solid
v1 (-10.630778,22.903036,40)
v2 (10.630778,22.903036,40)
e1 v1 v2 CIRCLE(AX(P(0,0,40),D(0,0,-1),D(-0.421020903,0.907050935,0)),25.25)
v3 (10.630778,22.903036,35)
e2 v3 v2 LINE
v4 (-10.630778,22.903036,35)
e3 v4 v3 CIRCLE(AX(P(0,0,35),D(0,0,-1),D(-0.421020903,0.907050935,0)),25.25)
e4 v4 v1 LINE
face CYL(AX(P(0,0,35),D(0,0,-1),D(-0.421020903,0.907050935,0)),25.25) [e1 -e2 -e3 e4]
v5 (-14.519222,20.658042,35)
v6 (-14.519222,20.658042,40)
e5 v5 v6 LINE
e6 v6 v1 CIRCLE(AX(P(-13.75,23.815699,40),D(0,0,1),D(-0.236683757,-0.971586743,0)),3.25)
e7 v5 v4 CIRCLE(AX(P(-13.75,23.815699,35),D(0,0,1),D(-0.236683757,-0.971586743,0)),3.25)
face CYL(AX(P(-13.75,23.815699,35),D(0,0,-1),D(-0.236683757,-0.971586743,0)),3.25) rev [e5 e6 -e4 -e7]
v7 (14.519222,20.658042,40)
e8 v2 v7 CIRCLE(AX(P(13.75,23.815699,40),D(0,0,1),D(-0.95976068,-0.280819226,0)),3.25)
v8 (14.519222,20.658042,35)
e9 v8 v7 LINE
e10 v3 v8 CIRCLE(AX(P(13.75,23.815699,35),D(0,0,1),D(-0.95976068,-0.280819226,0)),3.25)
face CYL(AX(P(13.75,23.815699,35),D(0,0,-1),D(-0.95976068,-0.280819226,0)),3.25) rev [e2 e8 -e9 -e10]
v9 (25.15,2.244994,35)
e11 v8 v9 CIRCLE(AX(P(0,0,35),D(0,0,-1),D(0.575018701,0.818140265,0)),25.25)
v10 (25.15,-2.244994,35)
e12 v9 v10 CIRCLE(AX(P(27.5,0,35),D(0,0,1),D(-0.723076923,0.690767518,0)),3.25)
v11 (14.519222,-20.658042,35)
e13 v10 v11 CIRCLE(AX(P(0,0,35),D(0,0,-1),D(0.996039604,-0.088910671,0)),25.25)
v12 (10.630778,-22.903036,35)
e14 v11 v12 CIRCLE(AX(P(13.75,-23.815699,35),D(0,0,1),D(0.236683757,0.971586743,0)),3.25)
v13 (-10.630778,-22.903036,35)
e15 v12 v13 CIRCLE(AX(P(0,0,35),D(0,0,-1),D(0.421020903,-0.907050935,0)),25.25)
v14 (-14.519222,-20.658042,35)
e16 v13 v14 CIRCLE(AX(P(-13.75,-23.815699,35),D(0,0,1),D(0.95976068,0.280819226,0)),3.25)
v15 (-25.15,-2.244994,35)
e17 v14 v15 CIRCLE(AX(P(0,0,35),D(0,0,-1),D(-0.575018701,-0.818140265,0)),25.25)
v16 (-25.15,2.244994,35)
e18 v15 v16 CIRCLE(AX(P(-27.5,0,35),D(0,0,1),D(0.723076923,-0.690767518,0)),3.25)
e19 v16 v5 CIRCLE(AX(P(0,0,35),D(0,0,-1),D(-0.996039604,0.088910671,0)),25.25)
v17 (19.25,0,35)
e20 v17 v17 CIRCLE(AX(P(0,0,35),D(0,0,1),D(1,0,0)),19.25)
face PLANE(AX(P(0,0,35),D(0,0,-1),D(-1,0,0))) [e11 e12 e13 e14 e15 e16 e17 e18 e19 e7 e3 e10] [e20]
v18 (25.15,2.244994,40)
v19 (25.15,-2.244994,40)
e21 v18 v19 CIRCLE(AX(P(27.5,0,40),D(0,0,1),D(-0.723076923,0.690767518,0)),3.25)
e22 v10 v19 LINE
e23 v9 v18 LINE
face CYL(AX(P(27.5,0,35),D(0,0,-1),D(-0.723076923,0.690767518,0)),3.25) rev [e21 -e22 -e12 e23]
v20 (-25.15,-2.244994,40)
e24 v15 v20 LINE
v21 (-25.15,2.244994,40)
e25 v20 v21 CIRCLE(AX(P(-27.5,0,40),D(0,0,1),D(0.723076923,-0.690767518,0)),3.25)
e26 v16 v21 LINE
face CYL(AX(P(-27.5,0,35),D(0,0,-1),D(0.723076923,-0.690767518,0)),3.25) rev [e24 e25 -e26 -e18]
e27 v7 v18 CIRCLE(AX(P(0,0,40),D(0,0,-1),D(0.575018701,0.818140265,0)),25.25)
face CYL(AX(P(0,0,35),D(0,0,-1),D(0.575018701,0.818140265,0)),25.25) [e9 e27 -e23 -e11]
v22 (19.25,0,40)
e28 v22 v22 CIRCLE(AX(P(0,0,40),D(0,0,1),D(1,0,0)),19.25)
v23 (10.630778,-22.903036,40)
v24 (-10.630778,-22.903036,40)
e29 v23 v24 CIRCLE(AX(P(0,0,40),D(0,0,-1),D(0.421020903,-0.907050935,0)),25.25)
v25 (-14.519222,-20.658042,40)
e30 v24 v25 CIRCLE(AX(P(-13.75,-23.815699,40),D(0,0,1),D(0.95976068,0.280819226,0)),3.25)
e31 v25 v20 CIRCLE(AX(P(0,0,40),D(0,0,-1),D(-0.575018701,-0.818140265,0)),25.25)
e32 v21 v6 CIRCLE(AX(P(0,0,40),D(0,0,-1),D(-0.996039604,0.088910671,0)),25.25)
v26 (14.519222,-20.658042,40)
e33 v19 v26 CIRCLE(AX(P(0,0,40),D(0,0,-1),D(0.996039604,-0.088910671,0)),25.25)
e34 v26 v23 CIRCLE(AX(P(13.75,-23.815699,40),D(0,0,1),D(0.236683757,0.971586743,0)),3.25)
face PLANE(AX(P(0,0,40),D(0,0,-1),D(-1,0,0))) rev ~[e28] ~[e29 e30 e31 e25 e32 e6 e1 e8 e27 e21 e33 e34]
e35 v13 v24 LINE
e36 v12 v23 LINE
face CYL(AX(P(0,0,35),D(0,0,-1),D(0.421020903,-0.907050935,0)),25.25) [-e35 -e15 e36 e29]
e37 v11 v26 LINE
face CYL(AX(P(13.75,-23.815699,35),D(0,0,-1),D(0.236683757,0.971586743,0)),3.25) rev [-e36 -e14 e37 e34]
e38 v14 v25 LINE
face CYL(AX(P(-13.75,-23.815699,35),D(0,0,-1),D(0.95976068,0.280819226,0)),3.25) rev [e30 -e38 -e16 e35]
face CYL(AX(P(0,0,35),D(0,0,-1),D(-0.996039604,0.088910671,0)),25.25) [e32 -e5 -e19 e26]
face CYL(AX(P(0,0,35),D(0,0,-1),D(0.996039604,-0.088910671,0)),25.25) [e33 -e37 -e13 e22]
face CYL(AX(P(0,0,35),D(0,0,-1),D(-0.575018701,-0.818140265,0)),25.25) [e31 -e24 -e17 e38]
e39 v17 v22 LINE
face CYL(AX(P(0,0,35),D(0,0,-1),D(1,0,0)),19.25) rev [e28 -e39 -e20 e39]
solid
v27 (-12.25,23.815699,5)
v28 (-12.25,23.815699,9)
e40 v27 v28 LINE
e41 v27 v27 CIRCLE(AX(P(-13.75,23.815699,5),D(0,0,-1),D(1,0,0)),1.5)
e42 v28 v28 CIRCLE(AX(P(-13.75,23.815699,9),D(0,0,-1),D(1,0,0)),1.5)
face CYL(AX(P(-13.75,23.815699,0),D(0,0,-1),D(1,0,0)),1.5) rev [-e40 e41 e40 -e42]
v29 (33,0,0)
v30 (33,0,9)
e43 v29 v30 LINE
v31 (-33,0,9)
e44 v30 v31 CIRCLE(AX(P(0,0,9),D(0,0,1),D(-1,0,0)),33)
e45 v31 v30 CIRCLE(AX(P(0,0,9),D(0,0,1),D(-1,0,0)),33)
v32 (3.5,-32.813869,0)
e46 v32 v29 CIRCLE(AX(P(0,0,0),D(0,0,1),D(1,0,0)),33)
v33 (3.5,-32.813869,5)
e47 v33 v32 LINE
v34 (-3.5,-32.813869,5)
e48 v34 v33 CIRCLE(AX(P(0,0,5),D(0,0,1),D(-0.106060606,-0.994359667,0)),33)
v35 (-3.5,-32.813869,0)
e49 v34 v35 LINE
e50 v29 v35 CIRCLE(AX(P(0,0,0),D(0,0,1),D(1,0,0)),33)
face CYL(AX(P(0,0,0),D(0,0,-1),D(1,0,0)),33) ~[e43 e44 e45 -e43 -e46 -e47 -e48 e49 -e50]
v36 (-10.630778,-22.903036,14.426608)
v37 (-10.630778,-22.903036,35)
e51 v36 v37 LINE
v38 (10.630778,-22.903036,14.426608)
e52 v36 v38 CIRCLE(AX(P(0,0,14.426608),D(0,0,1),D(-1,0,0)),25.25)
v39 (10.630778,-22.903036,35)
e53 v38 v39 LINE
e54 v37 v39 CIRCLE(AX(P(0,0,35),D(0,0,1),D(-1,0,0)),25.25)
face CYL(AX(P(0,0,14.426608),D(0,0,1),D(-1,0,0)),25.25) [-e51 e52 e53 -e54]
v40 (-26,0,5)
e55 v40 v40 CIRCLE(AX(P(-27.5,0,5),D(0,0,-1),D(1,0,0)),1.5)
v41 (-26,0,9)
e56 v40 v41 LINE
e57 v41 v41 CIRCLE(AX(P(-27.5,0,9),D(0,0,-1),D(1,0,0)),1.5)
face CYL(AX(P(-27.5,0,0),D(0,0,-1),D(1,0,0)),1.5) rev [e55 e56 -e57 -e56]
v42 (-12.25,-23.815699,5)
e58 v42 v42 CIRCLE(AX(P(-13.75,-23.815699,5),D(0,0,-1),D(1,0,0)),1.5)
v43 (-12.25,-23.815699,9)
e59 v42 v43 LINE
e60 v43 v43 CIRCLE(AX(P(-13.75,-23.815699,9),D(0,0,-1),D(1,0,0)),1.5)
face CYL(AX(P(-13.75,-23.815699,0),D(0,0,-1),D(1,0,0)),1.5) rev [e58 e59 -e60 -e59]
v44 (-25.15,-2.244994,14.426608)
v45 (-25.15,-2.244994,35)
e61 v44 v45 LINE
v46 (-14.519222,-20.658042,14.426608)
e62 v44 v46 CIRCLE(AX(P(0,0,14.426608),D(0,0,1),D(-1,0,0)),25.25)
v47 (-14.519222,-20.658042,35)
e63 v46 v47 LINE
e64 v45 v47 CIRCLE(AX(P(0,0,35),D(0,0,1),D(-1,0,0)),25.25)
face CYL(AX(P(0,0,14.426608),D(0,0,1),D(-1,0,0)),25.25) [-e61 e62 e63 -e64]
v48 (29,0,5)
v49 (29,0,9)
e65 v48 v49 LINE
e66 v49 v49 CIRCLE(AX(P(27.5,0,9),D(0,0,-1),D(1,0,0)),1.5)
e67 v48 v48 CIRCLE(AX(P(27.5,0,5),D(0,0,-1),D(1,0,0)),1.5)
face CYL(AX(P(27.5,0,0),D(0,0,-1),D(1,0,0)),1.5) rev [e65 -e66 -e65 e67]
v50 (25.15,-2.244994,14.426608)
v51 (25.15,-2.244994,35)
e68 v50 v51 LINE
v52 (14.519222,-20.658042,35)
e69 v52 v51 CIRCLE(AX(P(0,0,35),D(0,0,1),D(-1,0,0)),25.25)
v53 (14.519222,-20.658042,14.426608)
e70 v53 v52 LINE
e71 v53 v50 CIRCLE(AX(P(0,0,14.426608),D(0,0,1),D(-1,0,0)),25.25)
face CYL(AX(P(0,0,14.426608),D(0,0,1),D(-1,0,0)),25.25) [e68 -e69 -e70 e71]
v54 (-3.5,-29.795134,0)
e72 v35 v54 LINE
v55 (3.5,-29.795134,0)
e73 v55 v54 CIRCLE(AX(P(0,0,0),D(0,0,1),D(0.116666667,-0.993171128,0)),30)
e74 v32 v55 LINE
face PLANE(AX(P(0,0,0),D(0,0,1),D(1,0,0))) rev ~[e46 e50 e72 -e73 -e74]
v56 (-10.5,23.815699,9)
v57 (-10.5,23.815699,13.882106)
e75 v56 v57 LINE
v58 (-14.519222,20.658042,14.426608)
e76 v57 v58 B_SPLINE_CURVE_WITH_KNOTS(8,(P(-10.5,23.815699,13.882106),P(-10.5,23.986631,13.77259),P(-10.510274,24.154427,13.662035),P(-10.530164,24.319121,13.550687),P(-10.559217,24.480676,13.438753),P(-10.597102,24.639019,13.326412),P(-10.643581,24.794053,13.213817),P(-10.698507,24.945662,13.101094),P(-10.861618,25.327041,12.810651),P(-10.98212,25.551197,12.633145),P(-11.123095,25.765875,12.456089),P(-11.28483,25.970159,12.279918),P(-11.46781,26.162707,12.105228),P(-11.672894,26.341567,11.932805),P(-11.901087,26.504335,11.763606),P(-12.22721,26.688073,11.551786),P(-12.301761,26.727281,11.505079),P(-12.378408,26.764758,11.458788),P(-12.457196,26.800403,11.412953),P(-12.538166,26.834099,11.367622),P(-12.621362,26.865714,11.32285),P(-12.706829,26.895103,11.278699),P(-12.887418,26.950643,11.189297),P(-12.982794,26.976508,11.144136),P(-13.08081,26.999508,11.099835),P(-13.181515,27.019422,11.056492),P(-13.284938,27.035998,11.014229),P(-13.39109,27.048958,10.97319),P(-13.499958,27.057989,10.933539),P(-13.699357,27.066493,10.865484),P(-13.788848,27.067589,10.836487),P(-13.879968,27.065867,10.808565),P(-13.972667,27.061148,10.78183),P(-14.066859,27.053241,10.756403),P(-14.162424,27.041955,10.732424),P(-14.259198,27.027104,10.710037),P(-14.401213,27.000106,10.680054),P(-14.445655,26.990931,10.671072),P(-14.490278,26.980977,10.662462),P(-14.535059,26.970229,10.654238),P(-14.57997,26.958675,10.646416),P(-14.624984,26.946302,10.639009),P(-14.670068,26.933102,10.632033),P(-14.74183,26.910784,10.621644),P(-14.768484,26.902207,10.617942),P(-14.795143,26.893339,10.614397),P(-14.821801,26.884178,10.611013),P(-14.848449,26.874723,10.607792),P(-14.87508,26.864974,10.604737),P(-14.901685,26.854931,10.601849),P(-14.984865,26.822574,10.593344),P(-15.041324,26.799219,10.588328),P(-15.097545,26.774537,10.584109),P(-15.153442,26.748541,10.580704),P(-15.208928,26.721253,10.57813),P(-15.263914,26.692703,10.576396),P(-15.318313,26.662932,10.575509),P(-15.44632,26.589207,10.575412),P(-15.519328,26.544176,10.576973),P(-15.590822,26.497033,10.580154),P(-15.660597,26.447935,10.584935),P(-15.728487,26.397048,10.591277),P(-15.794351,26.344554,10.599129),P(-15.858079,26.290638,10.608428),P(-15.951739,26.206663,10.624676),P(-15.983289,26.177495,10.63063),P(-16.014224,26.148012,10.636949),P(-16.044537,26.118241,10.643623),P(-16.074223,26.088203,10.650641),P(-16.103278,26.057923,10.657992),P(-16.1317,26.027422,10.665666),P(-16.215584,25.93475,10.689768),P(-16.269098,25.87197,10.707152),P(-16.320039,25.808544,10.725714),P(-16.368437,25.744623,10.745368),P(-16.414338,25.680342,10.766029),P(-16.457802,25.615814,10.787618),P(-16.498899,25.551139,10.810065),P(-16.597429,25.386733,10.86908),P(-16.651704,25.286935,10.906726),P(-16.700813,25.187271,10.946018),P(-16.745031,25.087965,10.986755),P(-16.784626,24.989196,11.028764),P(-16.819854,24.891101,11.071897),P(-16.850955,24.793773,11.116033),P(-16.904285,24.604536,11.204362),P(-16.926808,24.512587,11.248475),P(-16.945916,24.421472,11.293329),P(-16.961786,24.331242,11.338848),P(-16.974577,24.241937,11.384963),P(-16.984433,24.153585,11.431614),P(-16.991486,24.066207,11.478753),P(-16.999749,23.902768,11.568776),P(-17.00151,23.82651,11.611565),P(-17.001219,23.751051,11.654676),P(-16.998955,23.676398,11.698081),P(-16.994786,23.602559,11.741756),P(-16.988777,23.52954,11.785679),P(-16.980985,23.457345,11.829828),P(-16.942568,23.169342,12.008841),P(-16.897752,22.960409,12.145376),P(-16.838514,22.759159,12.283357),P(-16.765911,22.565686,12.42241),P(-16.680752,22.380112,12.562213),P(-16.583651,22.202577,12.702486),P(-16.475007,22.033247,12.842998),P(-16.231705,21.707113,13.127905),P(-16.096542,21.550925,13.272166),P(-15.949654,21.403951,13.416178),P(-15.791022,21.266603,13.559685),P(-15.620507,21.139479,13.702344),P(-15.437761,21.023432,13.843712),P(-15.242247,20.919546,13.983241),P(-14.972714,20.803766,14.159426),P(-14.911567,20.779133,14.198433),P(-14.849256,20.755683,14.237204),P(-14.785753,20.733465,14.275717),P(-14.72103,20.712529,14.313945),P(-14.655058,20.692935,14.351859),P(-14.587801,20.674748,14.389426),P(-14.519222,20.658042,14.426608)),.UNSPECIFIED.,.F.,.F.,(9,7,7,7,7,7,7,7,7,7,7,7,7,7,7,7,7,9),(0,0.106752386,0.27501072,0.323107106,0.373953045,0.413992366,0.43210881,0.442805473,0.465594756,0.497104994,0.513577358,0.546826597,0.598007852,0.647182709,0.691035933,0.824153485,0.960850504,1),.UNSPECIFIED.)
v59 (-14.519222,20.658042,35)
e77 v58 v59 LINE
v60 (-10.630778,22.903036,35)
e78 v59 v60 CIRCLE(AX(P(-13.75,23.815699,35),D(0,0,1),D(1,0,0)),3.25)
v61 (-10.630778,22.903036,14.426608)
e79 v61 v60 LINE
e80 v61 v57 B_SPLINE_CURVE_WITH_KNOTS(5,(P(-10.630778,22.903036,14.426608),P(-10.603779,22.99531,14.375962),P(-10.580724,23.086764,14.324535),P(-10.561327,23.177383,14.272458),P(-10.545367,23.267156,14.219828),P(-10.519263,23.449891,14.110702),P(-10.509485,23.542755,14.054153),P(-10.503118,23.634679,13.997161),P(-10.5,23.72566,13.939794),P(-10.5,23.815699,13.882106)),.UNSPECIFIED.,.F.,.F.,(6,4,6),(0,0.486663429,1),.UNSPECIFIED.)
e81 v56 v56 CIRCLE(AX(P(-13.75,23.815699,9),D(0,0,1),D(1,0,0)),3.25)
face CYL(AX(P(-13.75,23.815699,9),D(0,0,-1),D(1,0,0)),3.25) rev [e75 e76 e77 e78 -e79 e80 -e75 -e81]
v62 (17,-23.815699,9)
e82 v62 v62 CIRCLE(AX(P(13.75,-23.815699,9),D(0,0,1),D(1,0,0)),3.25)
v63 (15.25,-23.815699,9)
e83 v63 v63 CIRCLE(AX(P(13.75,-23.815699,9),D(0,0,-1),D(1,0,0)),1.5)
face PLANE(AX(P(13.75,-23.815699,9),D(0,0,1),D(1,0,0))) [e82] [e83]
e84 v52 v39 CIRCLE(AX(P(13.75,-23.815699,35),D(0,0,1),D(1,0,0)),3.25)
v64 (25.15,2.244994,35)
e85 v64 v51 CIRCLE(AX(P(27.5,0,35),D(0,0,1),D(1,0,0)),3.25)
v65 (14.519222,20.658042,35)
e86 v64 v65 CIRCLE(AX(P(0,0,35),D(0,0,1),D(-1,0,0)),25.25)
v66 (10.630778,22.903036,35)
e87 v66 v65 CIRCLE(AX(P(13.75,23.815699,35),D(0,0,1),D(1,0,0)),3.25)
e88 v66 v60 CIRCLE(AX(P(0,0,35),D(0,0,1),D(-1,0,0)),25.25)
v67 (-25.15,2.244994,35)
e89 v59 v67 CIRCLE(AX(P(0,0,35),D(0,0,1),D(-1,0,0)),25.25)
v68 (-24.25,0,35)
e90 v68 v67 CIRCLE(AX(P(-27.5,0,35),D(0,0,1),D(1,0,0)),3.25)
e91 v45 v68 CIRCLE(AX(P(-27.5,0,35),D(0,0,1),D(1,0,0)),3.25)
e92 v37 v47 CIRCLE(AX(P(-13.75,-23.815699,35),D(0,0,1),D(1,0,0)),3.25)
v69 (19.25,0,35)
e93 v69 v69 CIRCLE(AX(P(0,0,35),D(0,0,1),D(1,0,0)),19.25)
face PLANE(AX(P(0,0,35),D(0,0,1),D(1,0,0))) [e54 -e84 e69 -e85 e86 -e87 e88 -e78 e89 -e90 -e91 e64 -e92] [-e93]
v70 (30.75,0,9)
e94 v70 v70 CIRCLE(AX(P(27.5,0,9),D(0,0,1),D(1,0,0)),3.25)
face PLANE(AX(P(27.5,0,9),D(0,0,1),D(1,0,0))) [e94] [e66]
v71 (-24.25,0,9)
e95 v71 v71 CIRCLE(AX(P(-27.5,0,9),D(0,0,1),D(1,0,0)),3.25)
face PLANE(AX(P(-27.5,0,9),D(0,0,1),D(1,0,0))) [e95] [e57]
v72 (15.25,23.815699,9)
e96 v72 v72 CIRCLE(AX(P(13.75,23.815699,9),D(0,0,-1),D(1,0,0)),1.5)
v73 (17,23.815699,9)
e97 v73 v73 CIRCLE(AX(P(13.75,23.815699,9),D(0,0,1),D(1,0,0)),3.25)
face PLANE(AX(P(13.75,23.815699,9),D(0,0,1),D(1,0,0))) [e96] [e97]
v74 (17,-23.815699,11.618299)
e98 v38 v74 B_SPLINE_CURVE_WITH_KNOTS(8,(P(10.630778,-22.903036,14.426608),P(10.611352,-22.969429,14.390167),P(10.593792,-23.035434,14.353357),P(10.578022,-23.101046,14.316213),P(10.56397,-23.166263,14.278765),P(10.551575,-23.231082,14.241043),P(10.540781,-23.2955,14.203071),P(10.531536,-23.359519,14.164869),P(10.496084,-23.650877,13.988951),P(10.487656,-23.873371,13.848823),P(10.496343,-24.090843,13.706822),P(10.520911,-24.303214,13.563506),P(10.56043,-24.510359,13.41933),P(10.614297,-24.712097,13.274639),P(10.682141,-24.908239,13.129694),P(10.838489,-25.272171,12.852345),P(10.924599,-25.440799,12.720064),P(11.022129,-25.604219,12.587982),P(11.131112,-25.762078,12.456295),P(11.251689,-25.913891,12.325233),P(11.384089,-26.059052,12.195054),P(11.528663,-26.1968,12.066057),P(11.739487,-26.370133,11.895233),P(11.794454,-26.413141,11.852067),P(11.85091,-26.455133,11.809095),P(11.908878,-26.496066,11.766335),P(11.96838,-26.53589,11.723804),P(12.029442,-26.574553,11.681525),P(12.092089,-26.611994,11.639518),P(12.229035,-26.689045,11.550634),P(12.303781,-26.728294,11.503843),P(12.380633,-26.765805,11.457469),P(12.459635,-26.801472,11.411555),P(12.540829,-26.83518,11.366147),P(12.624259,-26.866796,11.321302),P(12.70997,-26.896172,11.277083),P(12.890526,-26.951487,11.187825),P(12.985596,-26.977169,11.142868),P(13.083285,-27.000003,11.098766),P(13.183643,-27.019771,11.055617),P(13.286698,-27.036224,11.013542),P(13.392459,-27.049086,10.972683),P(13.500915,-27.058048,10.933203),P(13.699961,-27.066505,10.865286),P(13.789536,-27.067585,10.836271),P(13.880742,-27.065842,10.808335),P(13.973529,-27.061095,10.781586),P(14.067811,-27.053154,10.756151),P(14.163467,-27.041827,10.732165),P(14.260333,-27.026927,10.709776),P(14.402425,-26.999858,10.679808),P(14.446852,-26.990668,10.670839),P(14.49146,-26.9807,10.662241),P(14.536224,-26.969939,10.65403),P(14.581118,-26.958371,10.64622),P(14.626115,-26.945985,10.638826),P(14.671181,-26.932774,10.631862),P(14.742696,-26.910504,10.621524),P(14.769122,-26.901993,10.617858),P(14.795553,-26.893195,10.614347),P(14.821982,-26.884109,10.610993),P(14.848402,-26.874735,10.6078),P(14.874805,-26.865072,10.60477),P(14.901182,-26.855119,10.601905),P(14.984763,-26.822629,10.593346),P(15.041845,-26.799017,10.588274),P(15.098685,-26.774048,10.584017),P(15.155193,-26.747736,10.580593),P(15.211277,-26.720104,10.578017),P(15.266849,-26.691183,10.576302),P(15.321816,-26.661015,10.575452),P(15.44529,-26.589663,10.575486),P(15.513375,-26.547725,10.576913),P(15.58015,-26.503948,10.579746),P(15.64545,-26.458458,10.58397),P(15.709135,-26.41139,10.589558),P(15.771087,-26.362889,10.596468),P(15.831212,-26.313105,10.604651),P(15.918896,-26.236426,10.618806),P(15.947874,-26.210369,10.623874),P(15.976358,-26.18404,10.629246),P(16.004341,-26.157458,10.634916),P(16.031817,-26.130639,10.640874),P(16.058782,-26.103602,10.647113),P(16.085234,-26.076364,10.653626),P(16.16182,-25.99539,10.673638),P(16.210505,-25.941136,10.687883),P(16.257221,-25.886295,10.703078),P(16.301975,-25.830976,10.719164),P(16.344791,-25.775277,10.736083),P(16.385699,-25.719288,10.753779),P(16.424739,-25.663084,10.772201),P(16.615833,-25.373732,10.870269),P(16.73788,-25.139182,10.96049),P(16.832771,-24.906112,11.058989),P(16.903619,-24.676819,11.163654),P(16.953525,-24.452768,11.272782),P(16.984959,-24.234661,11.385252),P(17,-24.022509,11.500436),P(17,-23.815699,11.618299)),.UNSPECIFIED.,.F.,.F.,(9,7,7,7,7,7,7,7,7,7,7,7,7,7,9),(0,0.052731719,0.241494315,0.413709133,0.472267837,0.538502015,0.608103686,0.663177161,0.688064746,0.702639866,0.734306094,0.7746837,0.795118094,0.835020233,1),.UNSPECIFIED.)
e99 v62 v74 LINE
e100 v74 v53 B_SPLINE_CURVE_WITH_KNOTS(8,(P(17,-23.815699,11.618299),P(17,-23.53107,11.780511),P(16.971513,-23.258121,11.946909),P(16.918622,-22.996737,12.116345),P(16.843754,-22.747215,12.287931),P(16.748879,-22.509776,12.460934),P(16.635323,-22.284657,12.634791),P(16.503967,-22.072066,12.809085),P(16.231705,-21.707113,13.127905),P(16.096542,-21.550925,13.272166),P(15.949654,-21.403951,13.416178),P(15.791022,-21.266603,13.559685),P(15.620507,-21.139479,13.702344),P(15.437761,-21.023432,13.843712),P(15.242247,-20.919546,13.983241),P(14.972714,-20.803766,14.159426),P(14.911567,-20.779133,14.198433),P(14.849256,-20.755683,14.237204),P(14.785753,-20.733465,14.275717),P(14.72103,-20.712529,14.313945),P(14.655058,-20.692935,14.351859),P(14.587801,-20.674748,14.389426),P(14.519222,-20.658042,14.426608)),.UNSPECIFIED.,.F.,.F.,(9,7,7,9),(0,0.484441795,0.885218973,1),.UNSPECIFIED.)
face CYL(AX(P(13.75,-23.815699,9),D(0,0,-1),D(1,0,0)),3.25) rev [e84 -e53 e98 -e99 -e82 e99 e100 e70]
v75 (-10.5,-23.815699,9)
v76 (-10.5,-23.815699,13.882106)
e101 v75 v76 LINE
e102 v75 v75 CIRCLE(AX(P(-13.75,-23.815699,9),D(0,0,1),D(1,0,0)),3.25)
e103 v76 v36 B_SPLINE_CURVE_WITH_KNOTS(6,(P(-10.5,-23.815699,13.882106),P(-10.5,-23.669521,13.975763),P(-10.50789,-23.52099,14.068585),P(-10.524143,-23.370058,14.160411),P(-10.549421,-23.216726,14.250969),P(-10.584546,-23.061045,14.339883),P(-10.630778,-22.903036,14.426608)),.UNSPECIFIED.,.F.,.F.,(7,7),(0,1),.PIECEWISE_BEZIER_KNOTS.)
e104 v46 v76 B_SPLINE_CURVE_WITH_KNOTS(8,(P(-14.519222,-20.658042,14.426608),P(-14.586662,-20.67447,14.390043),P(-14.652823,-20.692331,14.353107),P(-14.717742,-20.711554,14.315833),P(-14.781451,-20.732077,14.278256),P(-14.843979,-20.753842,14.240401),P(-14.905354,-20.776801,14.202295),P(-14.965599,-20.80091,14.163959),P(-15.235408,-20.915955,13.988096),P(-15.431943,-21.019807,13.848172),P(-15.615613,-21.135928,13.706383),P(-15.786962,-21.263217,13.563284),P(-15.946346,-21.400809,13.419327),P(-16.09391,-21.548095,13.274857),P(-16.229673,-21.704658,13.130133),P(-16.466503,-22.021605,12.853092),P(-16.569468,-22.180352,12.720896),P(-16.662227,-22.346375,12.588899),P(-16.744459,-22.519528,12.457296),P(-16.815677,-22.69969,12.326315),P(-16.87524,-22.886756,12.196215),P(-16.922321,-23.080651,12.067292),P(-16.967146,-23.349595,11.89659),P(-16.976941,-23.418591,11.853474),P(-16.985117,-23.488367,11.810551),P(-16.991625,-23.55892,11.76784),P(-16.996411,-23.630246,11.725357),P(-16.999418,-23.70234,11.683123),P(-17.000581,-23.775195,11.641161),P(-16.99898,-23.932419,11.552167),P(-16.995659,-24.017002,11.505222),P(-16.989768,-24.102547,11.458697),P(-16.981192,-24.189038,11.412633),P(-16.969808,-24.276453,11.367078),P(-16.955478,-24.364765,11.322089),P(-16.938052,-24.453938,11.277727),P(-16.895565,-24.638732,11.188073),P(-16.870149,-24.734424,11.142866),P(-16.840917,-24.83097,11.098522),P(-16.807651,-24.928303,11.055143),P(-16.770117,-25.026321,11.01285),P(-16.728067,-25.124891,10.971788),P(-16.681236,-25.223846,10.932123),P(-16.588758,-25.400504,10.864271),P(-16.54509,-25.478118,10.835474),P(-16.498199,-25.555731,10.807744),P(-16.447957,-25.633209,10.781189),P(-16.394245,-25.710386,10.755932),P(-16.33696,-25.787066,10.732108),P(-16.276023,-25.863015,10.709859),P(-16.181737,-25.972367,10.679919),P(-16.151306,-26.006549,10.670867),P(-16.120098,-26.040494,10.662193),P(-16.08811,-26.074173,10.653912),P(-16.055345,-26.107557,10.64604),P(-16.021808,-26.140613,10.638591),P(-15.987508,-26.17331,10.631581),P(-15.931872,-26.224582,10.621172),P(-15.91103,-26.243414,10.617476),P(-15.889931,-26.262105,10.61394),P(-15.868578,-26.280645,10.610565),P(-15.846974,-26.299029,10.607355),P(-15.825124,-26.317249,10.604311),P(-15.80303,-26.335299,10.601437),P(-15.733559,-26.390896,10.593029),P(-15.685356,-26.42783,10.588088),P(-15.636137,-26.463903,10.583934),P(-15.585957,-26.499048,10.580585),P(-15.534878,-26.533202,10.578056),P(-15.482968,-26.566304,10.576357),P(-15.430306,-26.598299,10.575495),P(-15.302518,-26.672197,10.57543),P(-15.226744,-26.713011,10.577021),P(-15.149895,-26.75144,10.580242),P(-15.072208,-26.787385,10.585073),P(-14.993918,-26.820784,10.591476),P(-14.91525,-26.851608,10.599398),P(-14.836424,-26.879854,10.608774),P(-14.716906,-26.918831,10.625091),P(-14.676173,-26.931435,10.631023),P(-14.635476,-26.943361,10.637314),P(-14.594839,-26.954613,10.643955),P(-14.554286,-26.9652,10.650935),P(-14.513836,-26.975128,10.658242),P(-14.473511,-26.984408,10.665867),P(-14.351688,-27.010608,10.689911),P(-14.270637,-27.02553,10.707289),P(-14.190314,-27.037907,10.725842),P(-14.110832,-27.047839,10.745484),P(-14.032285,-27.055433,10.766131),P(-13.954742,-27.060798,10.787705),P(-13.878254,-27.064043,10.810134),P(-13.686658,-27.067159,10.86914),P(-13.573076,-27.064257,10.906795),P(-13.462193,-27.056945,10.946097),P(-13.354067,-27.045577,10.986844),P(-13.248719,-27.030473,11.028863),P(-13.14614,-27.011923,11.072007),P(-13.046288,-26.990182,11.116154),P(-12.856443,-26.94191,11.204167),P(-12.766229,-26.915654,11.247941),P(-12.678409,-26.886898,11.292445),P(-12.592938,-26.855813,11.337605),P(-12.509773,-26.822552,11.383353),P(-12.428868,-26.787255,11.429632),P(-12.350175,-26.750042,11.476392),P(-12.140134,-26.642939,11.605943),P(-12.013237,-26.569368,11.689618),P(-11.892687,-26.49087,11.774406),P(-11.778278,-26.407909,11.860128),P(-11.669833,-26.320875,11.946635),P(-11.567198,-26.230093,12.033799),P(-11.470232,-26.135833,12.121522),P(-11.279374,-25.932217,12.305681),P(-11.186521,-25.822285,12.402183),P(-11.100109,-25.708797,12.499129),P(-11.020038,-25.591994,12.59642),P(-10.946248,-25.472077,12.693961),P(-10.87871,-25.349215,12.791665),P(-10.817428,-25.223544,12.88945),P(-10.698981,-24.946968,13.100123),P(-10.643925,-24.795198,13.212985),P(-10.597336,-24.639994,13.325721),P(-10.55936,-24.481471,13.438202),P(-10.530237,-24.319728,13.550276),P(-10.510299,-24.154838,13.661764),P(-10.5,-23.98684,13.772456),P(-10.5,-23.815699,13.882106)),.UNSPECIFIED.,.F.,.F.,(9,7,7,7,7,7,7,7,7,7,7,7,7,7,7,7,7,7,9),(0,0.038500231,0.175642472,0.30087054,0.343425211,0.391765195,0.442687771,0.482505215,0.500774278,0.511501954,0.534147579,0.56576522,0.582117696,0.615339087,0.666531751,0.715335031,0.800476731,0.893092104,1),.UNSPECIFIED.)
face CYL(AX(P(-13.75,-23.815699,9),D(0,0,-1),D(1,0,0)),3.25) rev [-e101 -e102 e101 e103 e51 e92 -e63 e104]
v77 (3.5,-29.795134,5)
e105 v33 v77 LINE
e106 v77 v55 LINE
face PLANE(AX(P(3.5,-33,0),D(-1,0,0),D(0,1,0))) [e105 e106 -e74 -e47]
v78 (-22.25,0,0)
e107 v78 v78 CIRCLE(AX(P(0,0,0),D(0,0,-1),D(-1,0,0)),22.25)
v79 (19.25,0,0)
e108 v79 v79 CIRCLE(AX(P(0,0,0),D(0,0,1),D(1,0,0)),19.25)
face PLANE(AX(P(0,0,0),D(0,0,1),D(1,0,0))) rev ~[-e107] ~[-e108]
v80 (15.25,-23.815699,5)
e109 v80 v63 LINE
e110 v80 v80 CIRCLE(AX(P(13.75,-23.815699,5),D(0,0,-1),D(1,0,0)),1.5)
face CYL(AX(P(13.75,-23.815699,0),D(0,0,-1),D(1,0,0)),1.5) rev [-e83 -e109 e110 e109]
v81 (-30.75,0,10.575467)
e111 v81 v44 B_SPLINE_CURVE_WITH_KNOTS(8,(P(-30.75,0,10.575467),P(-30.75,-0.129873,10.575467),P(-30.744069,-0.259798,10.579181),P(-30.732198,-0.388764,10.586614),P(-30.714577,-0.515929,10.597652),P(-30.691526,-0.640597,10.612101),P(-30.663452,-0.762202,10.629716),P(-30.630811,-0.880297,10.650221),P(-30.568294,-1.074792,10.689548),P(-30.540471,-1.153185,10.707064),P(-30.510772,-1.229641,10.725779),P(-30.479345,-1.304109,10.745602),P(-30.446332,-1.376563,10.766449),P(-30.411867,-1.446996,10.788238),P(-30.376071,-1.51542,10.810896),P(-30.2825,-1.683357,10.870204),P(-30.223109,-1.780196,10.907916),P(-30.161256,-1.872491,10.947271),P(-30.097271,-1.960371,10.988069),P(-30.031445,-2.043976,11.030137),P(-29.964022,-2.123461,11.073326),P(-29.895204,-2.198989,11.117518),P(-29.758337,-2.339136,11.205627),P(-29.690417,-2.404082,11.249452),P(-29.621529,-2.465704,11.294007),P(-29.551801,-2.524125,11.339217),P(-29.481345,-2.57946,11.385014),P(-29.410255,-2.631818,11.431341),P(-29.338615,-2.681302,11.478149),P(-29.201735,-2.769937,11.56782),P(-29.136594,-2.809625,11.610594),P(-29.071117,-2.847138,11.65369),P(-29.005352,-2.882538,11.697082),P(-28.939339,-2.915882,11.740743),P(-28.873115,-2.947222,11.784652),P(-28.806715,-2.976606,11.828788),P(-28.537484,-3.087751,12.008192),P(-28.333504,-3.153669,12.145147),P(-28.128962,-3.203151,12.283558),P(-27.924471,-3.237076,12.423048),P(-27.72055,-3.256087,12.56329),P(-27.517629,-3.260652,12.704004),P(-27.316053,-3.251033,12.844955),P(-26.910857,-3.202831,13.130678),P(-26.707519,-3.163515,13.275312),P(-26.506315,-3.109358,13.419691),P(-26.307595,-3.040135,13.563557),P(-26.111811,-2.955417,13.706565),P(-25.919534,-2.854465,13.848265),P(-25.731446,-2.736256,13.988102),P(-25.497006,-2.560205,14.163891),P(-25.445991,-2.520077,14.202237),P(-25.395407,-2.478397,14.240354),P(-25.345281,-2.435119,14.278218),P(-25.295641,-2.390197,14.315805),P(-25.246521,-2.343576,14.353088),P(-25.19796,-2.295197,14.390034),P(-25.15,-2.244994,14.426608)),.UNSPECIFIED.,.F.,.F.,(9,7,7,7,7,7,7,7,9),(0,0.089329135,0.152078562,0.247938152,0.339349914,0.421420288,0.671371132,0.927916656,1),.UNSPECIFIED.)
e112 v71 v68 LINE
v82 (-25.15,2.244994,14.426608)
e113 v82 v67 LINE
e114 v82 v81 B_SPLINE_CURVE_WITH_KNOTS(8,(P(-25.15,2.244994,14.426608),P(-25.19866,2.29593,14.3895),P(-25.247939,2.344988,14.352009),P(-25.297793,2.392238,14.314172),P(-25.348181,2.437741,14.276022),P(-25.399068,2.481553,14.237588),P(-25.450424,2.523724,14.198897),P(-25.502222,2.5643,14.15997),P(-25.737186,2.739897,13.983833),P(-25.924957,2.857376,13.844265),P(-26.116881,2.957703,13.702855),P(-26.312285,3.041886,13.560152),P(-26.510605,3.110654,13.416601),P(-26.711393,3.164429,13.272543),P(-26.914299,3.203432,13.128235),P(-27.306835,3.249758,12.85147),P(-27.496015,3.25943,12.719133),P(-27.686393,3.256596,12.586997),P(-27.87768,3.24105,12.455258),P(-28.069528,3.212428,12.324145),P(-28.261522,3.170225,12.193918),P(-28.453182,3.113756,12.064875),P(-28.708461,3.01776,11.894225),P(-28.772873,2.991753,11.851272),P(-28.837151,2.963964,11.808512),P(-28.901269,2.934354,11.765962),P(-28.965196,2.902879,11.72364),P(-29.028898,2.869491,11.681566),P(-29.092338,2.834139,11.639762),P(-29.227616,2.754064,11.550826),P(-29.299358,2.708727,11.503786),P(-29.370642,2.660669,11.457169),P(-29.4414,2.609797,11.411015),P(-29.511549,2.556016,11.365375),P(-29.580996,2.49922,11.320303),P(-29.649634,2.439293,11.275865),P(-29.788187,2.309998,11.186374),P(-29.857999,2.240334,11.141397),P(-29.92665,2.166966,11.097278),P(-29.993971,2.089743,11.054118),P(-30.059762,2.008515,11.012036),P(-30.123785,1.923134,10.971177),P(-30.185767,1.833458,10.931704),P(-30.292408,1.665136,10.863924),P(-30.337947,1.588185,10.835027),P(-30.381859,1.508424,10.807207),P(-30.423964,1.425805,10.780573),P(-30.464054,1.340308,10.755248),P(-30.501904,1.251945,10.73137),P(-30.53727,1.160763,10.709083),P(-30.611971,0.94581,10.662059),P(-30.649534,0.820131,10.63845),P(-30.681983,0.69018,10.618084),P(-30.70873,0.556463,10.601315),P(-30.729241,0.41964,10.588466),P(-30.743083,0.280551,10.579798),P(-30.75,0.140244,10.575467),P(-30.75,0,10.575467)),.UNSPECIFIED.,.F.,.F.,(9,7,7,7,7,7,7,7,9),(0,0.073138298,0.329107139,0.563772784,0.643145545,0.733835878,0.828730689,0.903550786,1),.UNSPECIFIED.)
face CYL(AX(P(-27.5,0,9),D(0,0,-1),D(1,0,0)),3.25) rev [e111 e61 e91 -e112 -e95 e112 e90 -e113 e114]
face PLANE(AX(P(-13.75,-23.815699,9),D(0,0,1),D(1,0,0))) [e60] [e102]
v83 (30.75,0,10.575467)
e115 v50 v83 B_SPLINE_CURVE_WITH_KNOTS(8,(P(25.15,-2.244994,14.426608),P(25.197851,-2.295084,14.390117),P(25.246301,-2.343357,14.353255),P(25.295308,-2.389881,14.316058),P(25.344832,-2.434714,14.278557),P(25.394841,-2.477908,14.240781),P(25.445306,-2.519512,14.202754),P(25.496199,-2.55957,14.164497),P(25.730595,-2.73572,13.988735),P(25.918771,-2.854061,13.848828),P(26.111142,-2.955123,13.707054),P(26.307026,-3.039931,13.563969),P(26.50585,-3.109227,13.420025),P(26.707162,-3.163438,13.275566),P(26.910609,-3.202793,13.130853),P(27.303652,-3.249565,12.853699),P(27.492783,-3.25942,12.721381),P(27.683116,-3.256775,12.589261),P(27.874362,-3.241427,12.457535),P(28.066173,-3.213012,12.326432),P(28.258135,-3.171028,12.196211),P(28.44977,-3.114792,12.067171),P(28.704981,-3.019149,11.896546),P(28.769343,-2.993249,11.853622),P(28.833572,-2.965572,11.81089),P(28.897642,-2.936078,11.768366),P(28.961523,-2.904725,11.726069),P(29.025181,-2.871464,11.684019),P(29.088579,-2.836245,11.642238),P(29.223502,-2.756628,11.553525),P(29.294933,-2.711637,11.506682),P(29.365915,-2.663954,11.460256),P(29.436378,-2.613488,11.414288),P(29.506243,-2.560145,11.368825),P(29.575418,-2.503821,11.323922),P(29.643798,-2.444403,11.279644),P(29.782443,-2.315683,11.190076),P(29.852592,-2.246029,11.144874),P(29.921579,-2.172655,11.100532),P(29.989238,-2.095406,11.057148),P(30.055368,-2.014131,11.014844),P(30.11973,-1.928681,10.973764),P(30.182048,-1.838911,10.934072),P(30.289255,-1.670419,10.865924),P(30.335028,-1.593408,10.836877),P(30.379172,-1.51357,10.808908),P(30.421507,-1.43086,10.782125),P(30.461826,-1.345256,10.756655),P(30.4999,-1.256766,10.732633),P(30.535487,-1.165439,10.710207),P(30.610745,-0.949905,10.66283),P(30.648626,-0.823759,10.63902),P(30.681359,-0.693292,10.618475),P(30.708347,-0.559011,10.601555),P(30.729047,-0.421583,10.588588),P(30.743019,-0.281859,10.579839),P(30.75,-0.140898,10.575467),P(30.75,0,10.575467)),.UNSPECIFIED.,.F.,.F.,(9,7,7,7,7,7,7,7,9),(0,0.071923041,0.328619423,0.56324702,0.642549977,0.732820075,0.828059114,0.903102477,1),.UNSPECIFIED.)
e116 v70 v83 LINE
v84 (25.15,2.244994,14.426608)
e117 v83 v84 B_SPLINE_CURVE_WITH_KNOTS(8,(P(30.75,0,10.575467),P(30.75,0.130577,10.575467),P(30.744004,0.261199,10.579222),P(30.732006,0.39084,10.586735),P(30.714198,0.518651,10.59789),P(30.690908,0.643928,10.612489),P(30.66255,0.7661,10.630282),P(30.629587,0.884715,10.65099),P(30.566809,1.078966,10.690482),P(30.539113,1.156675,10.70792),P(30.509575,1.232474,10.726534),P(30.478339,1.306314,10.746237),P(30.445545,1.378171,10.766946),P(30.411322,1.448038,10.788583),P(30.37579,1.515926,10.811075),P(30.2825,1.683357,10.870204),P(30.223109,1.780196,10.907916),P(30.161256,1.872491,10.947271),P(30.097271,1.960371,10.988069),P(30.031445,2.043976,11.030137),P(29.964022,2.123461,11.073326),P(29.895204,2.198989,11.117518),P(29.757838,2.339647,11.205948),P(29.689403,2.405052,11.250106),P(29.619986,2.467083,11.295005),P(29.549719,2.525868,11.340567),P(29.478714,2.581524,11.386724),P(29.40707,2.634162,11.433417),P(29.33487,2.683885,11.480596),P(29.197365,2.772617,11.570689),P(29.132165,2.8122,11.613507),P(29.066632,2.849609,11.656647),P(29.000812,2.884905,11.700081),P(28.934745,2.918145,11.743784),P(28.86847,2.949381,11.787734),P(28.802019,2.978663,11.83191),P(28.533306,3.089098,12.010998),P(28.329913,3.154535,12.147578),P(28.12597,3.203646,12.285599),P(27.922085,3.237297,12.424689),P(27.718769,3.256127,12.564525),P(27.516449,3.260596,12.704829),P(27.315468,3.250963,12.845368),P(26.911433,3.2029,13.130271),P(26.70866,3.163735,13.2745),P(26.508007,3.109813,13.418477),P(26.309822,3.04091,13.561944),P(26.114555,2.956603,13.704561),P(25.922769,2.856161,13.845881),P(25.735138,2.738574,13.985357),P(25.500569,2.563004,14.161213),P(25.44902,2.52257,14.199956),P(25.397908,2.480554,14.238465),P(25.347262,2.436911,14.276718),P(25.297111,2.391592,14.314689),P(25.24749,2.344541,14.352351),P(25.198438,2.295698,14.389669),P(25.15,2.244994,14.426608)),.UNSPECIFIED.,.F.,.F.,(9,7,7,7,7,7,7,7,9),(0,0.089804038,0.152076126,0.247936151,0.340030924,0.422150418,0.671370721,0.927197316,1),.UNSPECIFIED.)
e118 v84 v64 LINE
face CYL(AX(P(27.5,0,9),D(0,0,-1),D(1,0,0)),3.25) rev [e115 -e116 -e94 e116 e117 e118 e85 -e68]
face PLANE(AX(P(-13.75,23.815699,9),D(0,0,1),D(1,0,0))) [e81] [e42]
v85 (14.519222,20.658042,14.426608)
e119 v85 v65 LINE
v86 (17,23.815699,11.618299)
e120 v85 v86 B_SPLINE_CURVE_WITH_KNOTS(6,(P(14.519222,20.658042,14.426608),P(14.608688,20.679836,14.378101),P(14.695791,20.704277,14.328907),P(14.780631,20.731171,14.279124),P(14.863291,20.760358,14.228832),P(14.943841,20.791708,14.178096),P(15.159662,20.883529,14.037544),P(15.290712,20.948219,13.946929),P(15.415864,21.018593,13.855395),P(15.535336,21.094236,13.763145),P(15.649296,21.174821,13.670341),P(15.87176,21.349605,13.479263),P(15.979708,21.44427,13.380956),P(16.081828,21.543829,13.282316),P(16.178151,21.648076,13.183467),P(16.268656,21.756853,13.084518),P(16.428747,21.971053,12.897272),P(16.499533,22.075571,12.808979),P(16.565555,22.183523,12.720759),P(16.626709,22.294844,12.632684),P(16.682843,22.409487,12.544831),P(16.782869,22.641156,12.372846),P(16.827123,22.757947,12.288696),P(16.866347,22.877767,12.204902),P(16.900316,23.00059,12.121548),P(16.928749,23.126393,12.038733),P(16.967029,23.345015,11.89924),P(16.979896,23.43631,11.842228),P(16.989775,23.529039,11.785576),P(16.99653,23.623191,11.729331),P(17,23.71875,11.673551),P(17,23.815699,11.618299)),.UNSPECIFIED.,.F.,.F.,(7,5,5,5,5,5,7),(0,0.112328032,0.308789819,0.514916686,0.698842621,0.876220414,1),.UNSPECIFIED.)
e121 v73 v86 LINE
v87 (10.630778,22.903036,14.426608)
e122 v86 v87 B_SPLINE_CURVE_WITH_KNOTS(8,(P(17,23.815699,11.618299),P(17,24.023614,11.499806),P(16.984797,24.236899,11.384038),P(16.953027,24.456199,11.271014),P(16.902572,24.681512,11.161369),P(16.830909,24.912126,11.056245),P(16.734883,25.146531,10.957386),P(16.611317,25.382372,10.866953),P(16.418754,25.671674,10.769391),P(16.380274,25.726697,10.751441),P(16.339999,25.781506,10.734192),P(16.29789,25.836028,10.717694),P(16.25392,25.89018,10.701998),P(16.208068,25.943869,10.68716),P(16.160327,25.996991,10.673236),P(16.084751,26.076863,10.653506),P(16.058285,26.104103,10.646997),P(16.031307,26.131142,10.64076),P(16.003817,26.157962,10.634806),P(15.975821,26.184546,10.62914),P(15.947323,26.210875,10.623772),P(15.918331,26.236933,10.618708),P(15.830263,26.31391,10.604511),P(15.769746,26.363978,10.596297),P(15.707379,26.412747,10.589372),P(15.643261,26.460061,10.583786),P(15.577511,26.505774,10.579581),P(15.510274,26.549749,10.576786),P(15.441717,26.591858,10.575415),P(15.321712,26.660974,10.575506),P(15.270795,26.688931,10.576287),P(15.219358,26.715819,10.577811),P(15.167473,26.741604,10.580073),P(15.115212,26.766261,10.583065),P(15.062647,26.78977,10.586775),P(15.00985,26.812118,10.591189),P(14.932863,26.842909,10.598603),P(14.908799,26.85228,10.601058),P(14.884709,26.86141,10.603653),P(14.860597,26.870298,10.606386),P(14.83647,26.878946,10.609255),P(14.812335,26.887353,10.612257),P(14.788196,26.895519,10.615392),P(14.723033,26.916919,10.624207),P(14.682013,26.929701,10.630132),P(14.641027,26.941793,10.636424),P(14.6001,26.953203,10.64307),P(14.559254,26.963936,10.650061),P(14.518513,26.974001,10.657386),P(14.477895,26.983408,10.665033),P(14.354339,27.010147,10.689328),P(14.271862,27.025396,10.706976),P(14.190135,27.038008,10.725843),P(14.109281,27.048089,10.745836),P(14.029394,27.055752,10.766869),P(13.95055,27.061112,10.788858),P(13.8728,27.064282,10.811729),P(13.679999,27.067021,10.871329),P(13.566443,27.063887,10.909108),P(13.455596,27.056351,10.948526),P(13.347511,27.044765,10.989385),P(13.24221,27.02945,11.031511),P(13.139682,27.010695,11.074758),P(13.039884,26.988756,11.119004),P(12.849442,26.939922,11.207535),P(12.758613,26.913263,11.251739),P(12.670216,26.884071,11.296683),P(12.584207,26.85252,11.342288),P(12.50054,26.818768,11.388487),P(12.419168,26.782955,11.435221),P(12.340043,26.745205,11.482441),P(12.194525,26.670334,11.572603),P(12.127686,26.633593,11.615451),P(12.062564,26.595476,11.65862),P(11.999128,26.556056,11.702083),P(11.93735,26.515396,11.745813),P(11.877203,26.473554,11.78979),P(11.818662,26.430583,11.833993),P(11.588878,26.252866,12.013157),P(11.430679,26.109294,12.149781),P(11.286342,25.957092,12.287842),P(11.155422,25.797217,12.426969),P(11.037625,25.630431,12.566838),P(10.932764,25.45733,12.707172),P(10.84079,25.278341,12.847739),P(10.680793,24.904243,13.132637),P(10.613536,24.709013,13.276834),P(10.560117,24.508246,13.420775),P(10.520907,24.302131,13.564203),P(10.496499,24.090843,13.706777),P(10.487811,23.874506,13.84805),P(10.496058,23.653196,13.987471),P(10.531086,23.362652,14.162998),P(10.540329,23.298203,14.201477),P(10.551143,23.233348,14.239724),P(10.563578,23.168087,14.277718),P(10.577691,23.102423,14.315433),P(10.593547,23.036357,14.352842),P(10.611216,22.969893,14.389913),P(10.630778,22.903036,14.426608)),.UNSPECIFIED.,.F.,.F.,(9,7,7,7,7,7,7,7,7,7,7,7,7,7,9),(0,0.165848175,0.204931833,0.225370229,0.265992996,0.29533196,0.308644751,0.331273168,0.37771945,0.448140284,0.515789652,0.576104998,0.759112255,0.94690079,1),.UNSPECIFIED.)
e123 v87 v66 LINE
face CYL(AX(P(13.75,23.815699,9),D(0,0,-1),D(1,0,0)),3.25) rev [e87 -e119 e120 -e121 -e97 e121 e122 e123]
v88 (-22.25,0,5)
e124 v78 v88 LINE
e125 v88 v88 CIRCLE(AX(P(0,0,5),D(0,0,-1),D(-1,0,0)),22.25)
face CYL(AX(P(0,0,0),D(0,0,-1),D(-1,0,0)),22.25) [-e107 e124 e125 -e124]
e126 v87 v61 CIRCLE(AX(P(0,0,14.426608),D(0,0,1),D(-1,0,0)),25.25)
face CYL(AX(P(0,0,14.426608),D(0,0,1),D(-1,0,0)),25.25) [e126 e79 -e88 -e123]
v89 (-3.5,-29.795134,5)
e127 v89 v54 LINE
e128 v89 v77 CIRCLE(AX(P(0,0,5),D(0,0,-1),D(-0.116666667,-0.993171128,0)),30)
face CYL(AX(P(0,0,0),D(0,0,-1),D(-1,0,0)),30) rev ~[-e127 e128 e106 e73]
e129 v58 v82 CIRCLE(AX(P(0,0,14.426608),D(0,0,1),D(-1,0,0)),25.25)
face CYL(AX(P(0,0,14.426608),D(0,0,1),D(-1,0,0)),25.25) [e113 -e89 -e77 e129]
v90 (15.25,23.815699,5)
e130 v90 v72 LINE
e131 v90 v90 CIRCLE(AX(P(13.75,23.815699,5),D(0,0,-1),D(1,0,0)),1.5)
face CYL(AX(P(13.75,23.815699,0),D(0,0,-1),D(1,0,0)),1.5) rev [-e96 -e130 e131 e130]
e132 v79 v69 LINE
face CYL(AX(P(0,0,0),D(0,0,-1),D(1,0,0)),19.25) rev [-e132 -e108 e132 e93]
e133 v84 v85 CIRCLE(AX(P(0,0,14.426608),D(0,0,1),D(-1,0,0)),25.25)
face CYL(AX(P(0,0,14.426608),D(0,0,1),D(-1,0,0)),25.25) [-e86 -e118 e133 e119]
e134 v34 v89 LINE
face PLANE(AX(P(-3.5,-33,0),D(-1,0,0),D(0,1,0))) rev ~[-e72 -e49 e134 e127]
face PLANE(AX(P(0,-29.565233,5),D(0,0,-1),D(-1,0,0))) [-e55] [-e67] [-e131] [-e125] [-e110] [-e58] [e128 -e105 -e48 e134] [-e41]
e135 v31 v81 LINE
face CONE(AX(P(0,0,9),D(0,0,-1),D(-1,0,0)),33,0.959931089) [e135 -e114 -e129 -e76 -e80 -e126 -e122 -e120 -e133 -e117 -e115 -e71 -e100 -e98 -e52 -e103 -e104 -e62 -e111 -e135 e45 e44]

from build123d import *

# Parameters (mm, degrees)
SKETCH1_R           = 33
SKETCH1_R_2         = 19.25
SKETCH1_R_3         = 1.5
BOSS_EXTRUDE1_DEPTH = 35
SKETCH4_R           = 30
SKETCH4_R_2         = 22.25
CUT_EXTRUDE1_DEPTH  = 5
CUT_EXTRUDE2_START  = -26
SKETCH5_R           = 3.25
SKETCH5_R_2         = 1.5
CUT_EXTRUDE2_DEPTH  = 26
SKETCH7_R           = 19.25
SHIM_FEATURE_DEPTH  = 5
SKETCH9_W           = 7
SKETCH9_H           = 6.869534375
CUT_EXTRUDE5_DEPTH  = 5


with BuildPart() as part:
    # Sketch1 → Boss-Extrude1 (new body)
    with BuildSketch(Plane.XY):
        Circle(SKETCH1_R)
        Circle(SKETCH1_R_2, mode=Mode.SUBTRACT)
        with Locations((-27.5, 0)):
            Circle(SKETCH1_R_3, mode=Mode.SUBTRACT)
        with Locations((-13.75, 23.815698604)):
            Circle(SKETCH1_R_3, mode=Mode.SUBTRACT)
        with Locations((13.75, 23.815698604)):
            Circle(SKETCH1_R_3, mode=Mode.SUBTRACT)
        with Locations((27.5, 0)):
            Circle(SKETCH1_R_3, mode=Mode.SUBTRACT)
        with Locations((13.75, -23.815698604)):
            Circle(SKETCH1_R_3, mode=Mode.SUBTRACT)
        with Locations((-13.75, -23.815698604)):
            Circle(SKETCH1_R_3, mode=Mode.SUBTRACT)
    extrude(amount=BOSS_EXTRUDE1_DEPTH)

    # Sketch6 → Cut-Revolve1 (revolve, cut)
    with BuildSketch(Plane(origin=(0, 0, 0), x_dir=(0, 0, -1), z_dir=(1, 0, 0)), mode=Mode.PRIVATE) as cut_revolve1_sk:
        Polygon((-35, 33), (-9, 33), (-14.426608421, 25.25), (-35, 25.25), align=None)
    revolve(cut_revolve1_sk.sketch.rotate(Axis((0, 0, 0), (0, 0, 1)), 90), axis=Axis((0, 0, 0), (0, 0, 1)), mode=Mode.SUBTRACT)

    # Sketch4 → Cut-Extrude1 (cut)
    with BuildSketch(Plane(origin=(0, 0, 0), x_dir=(-1, 0, 0), z_dir=(0, 0, -1))):
        Circle(SKETCH4_R)
        Circle(SKETCH4_R_2, mode=Mode.SUBTRACT)
    extrude(amount=-CUT_EXTRUDE1_DEPTH, mode=Mode.SUBTRACT)

    # Sketch5 → Cut-Extrude2 (cut)
    # profile 1 of 6: a face of its own
    with BuildSketch(Plane.XY.offset(35).offset(CUT_EXTRUDE2_START)):
        with Locations((-13.75, 23.815698604)):
            Circle(SKETCH5_R)
        with Locations(Location((-13.75, 23.815698604, 0), (0, 0, 180))):
            Circle(SKETCH5_R_2, mode=Mode.SUBTRACT)
    # profile 2 of 6: a face of its own
    with BuildSketch(Plane.XY.offset(35).offset(CUT_EXTRUDE2_START)):
        with Locations((-27.5, 0)):
            Circle(SKETCH5_R)
        with Locations(Location((-27.5, 0, 0), (0, 0, 180))):
            Circle(SKETCH5_R_2, mode=Mode.SUBTRACT)
    # profile 3 of 6: a face of its own
    with BuildSketch(Plane.XY.offset(35).offset(CUT_EXTRUDE2_START)):
        with Locations((-13.75, -23.815698604)):
            Circle(SKETCH5_R)
        with Locations(Location((-13.75, -23.815698604, 0), (0, 0, 180))):
            Circle(SKETCH5_R_2, mode=Mode.SUBTRACT)
    # profile 4 of 6: a face of its own
    with BuildSketch(Plane.XY.offset(35).offset(CUT_EXTRUDE2_START)):
        with Locations((13.75, -23.815698604)):
            Circle(SKETCH5_R)
        with Locations(Location((13.75, -23.815698604, 0), (0, 0, 180))):
            Circle(SKETCH5_R_2, mode=Mode.SUBTRACT)
    # profile 5 of 6: a face of its own
    with BuildSketch(Plane.XY.offset(35).offset(CUT_EXTRUDE2_START)):
        with Locations((27.5, 0)):
            Circle(SKETCH5_R)
        with Locations(Location((27.5, 0, 0), (0, 0, 180))):
            Circle(SKETCH5_R_2, mode=Mode.SUBTRACT)
    # profile 6 of 6: a face of its own
    with BuildSketch(Plane.XY.offset(35).offset(CUT_EXTRUDE2_START)):
        with Locations((13.75, 23.815698604)):
            Circle(SKETCH5_R)
        with Locations(Location((13.75, 23.815698604, 0), (0, 0, 180))):
            Circle(SKETCH5_R_2, mode=Mode.SUBTRACT)
    extrude(amount=CUT_EXTRUDE2_DEPTH, mode=Mode.SUBTRACT)

    # Sketch9 → Cut-Extrude5 (cut)
    with BuildSketch(Plane(origin=(0, 0, 0), x_dir=(-1, 0, 0), z_dir=(0, 0, -1))):
        with Locations((0, -29.565232812)):
            Rectangle(SKETCH9_W, SKETCH9_H)
    extrude(amount=-CUT_EXTRUDE5_DEPTH, mode=Mode.SUBTRACT)


with BuildPart() as body_2:
    # Sketch7 → Shim-Feature (new body)
    with BuildSketch(Plane.XY.offset(35)):
        with BuildLine():
            ThreePointArc((10.63077779, 22.903036121), (12.125, 21.001116042), (14.51922221, 20.658041689))
            ThreePointArc((14.51922221, 20.658041689), (21.867141446, 12.625), (25.15, 2.244994432))
            ThreePointArc((25.15, 2.244994432), (24.25, 0), (25.15, -2.244994432))
            ThreePointArc((25.15, -2.244994432), (21.867141446, -12.625), (14.51922221, -20.658041689))
            ThreePointArc((14.51922221, -20.658041689), (12.125, -21.001116042), (10.63077779, -22.903036121))
            ThreePointArc((10.63077779, -22.903036121), (0, -25.25), (-10.63077779, -22.903036121))
            ThreePointArc((-10.63077779, -22.903036121), (-12.125, -21.001116042), (-14.51922221, -20.658041689))
            ThreePointArc((-14.51922221, -20.658041689), (-21.867141446, -12.625), (-25.15, -2.244994432))
            ThreePointArc((-25.15, -2.244994432), (-24.25, 0), (-25.15, 2.244994432))
            ThreePointArc((-25.15, 2.244994432), (-21.867141446, 12.625), (-14.51922221, 20.658041689))
            ThreePointArc((-14.51922221, 20.658041689), (-12.125, 21.001116042), (-10.63077779, 22.903036121))
            ThreePointArc((-10.63077779, 22.903036121), (0, 25.25), (10.63077779, 22.903036121))
        make_face()
        Circle(SKETCH7_R, mode=Mode.SUBTRACT)
    extrude(amount=SHIM_FEATURE_DEPTH)


solid = Compound([part.part, body_2.part])
